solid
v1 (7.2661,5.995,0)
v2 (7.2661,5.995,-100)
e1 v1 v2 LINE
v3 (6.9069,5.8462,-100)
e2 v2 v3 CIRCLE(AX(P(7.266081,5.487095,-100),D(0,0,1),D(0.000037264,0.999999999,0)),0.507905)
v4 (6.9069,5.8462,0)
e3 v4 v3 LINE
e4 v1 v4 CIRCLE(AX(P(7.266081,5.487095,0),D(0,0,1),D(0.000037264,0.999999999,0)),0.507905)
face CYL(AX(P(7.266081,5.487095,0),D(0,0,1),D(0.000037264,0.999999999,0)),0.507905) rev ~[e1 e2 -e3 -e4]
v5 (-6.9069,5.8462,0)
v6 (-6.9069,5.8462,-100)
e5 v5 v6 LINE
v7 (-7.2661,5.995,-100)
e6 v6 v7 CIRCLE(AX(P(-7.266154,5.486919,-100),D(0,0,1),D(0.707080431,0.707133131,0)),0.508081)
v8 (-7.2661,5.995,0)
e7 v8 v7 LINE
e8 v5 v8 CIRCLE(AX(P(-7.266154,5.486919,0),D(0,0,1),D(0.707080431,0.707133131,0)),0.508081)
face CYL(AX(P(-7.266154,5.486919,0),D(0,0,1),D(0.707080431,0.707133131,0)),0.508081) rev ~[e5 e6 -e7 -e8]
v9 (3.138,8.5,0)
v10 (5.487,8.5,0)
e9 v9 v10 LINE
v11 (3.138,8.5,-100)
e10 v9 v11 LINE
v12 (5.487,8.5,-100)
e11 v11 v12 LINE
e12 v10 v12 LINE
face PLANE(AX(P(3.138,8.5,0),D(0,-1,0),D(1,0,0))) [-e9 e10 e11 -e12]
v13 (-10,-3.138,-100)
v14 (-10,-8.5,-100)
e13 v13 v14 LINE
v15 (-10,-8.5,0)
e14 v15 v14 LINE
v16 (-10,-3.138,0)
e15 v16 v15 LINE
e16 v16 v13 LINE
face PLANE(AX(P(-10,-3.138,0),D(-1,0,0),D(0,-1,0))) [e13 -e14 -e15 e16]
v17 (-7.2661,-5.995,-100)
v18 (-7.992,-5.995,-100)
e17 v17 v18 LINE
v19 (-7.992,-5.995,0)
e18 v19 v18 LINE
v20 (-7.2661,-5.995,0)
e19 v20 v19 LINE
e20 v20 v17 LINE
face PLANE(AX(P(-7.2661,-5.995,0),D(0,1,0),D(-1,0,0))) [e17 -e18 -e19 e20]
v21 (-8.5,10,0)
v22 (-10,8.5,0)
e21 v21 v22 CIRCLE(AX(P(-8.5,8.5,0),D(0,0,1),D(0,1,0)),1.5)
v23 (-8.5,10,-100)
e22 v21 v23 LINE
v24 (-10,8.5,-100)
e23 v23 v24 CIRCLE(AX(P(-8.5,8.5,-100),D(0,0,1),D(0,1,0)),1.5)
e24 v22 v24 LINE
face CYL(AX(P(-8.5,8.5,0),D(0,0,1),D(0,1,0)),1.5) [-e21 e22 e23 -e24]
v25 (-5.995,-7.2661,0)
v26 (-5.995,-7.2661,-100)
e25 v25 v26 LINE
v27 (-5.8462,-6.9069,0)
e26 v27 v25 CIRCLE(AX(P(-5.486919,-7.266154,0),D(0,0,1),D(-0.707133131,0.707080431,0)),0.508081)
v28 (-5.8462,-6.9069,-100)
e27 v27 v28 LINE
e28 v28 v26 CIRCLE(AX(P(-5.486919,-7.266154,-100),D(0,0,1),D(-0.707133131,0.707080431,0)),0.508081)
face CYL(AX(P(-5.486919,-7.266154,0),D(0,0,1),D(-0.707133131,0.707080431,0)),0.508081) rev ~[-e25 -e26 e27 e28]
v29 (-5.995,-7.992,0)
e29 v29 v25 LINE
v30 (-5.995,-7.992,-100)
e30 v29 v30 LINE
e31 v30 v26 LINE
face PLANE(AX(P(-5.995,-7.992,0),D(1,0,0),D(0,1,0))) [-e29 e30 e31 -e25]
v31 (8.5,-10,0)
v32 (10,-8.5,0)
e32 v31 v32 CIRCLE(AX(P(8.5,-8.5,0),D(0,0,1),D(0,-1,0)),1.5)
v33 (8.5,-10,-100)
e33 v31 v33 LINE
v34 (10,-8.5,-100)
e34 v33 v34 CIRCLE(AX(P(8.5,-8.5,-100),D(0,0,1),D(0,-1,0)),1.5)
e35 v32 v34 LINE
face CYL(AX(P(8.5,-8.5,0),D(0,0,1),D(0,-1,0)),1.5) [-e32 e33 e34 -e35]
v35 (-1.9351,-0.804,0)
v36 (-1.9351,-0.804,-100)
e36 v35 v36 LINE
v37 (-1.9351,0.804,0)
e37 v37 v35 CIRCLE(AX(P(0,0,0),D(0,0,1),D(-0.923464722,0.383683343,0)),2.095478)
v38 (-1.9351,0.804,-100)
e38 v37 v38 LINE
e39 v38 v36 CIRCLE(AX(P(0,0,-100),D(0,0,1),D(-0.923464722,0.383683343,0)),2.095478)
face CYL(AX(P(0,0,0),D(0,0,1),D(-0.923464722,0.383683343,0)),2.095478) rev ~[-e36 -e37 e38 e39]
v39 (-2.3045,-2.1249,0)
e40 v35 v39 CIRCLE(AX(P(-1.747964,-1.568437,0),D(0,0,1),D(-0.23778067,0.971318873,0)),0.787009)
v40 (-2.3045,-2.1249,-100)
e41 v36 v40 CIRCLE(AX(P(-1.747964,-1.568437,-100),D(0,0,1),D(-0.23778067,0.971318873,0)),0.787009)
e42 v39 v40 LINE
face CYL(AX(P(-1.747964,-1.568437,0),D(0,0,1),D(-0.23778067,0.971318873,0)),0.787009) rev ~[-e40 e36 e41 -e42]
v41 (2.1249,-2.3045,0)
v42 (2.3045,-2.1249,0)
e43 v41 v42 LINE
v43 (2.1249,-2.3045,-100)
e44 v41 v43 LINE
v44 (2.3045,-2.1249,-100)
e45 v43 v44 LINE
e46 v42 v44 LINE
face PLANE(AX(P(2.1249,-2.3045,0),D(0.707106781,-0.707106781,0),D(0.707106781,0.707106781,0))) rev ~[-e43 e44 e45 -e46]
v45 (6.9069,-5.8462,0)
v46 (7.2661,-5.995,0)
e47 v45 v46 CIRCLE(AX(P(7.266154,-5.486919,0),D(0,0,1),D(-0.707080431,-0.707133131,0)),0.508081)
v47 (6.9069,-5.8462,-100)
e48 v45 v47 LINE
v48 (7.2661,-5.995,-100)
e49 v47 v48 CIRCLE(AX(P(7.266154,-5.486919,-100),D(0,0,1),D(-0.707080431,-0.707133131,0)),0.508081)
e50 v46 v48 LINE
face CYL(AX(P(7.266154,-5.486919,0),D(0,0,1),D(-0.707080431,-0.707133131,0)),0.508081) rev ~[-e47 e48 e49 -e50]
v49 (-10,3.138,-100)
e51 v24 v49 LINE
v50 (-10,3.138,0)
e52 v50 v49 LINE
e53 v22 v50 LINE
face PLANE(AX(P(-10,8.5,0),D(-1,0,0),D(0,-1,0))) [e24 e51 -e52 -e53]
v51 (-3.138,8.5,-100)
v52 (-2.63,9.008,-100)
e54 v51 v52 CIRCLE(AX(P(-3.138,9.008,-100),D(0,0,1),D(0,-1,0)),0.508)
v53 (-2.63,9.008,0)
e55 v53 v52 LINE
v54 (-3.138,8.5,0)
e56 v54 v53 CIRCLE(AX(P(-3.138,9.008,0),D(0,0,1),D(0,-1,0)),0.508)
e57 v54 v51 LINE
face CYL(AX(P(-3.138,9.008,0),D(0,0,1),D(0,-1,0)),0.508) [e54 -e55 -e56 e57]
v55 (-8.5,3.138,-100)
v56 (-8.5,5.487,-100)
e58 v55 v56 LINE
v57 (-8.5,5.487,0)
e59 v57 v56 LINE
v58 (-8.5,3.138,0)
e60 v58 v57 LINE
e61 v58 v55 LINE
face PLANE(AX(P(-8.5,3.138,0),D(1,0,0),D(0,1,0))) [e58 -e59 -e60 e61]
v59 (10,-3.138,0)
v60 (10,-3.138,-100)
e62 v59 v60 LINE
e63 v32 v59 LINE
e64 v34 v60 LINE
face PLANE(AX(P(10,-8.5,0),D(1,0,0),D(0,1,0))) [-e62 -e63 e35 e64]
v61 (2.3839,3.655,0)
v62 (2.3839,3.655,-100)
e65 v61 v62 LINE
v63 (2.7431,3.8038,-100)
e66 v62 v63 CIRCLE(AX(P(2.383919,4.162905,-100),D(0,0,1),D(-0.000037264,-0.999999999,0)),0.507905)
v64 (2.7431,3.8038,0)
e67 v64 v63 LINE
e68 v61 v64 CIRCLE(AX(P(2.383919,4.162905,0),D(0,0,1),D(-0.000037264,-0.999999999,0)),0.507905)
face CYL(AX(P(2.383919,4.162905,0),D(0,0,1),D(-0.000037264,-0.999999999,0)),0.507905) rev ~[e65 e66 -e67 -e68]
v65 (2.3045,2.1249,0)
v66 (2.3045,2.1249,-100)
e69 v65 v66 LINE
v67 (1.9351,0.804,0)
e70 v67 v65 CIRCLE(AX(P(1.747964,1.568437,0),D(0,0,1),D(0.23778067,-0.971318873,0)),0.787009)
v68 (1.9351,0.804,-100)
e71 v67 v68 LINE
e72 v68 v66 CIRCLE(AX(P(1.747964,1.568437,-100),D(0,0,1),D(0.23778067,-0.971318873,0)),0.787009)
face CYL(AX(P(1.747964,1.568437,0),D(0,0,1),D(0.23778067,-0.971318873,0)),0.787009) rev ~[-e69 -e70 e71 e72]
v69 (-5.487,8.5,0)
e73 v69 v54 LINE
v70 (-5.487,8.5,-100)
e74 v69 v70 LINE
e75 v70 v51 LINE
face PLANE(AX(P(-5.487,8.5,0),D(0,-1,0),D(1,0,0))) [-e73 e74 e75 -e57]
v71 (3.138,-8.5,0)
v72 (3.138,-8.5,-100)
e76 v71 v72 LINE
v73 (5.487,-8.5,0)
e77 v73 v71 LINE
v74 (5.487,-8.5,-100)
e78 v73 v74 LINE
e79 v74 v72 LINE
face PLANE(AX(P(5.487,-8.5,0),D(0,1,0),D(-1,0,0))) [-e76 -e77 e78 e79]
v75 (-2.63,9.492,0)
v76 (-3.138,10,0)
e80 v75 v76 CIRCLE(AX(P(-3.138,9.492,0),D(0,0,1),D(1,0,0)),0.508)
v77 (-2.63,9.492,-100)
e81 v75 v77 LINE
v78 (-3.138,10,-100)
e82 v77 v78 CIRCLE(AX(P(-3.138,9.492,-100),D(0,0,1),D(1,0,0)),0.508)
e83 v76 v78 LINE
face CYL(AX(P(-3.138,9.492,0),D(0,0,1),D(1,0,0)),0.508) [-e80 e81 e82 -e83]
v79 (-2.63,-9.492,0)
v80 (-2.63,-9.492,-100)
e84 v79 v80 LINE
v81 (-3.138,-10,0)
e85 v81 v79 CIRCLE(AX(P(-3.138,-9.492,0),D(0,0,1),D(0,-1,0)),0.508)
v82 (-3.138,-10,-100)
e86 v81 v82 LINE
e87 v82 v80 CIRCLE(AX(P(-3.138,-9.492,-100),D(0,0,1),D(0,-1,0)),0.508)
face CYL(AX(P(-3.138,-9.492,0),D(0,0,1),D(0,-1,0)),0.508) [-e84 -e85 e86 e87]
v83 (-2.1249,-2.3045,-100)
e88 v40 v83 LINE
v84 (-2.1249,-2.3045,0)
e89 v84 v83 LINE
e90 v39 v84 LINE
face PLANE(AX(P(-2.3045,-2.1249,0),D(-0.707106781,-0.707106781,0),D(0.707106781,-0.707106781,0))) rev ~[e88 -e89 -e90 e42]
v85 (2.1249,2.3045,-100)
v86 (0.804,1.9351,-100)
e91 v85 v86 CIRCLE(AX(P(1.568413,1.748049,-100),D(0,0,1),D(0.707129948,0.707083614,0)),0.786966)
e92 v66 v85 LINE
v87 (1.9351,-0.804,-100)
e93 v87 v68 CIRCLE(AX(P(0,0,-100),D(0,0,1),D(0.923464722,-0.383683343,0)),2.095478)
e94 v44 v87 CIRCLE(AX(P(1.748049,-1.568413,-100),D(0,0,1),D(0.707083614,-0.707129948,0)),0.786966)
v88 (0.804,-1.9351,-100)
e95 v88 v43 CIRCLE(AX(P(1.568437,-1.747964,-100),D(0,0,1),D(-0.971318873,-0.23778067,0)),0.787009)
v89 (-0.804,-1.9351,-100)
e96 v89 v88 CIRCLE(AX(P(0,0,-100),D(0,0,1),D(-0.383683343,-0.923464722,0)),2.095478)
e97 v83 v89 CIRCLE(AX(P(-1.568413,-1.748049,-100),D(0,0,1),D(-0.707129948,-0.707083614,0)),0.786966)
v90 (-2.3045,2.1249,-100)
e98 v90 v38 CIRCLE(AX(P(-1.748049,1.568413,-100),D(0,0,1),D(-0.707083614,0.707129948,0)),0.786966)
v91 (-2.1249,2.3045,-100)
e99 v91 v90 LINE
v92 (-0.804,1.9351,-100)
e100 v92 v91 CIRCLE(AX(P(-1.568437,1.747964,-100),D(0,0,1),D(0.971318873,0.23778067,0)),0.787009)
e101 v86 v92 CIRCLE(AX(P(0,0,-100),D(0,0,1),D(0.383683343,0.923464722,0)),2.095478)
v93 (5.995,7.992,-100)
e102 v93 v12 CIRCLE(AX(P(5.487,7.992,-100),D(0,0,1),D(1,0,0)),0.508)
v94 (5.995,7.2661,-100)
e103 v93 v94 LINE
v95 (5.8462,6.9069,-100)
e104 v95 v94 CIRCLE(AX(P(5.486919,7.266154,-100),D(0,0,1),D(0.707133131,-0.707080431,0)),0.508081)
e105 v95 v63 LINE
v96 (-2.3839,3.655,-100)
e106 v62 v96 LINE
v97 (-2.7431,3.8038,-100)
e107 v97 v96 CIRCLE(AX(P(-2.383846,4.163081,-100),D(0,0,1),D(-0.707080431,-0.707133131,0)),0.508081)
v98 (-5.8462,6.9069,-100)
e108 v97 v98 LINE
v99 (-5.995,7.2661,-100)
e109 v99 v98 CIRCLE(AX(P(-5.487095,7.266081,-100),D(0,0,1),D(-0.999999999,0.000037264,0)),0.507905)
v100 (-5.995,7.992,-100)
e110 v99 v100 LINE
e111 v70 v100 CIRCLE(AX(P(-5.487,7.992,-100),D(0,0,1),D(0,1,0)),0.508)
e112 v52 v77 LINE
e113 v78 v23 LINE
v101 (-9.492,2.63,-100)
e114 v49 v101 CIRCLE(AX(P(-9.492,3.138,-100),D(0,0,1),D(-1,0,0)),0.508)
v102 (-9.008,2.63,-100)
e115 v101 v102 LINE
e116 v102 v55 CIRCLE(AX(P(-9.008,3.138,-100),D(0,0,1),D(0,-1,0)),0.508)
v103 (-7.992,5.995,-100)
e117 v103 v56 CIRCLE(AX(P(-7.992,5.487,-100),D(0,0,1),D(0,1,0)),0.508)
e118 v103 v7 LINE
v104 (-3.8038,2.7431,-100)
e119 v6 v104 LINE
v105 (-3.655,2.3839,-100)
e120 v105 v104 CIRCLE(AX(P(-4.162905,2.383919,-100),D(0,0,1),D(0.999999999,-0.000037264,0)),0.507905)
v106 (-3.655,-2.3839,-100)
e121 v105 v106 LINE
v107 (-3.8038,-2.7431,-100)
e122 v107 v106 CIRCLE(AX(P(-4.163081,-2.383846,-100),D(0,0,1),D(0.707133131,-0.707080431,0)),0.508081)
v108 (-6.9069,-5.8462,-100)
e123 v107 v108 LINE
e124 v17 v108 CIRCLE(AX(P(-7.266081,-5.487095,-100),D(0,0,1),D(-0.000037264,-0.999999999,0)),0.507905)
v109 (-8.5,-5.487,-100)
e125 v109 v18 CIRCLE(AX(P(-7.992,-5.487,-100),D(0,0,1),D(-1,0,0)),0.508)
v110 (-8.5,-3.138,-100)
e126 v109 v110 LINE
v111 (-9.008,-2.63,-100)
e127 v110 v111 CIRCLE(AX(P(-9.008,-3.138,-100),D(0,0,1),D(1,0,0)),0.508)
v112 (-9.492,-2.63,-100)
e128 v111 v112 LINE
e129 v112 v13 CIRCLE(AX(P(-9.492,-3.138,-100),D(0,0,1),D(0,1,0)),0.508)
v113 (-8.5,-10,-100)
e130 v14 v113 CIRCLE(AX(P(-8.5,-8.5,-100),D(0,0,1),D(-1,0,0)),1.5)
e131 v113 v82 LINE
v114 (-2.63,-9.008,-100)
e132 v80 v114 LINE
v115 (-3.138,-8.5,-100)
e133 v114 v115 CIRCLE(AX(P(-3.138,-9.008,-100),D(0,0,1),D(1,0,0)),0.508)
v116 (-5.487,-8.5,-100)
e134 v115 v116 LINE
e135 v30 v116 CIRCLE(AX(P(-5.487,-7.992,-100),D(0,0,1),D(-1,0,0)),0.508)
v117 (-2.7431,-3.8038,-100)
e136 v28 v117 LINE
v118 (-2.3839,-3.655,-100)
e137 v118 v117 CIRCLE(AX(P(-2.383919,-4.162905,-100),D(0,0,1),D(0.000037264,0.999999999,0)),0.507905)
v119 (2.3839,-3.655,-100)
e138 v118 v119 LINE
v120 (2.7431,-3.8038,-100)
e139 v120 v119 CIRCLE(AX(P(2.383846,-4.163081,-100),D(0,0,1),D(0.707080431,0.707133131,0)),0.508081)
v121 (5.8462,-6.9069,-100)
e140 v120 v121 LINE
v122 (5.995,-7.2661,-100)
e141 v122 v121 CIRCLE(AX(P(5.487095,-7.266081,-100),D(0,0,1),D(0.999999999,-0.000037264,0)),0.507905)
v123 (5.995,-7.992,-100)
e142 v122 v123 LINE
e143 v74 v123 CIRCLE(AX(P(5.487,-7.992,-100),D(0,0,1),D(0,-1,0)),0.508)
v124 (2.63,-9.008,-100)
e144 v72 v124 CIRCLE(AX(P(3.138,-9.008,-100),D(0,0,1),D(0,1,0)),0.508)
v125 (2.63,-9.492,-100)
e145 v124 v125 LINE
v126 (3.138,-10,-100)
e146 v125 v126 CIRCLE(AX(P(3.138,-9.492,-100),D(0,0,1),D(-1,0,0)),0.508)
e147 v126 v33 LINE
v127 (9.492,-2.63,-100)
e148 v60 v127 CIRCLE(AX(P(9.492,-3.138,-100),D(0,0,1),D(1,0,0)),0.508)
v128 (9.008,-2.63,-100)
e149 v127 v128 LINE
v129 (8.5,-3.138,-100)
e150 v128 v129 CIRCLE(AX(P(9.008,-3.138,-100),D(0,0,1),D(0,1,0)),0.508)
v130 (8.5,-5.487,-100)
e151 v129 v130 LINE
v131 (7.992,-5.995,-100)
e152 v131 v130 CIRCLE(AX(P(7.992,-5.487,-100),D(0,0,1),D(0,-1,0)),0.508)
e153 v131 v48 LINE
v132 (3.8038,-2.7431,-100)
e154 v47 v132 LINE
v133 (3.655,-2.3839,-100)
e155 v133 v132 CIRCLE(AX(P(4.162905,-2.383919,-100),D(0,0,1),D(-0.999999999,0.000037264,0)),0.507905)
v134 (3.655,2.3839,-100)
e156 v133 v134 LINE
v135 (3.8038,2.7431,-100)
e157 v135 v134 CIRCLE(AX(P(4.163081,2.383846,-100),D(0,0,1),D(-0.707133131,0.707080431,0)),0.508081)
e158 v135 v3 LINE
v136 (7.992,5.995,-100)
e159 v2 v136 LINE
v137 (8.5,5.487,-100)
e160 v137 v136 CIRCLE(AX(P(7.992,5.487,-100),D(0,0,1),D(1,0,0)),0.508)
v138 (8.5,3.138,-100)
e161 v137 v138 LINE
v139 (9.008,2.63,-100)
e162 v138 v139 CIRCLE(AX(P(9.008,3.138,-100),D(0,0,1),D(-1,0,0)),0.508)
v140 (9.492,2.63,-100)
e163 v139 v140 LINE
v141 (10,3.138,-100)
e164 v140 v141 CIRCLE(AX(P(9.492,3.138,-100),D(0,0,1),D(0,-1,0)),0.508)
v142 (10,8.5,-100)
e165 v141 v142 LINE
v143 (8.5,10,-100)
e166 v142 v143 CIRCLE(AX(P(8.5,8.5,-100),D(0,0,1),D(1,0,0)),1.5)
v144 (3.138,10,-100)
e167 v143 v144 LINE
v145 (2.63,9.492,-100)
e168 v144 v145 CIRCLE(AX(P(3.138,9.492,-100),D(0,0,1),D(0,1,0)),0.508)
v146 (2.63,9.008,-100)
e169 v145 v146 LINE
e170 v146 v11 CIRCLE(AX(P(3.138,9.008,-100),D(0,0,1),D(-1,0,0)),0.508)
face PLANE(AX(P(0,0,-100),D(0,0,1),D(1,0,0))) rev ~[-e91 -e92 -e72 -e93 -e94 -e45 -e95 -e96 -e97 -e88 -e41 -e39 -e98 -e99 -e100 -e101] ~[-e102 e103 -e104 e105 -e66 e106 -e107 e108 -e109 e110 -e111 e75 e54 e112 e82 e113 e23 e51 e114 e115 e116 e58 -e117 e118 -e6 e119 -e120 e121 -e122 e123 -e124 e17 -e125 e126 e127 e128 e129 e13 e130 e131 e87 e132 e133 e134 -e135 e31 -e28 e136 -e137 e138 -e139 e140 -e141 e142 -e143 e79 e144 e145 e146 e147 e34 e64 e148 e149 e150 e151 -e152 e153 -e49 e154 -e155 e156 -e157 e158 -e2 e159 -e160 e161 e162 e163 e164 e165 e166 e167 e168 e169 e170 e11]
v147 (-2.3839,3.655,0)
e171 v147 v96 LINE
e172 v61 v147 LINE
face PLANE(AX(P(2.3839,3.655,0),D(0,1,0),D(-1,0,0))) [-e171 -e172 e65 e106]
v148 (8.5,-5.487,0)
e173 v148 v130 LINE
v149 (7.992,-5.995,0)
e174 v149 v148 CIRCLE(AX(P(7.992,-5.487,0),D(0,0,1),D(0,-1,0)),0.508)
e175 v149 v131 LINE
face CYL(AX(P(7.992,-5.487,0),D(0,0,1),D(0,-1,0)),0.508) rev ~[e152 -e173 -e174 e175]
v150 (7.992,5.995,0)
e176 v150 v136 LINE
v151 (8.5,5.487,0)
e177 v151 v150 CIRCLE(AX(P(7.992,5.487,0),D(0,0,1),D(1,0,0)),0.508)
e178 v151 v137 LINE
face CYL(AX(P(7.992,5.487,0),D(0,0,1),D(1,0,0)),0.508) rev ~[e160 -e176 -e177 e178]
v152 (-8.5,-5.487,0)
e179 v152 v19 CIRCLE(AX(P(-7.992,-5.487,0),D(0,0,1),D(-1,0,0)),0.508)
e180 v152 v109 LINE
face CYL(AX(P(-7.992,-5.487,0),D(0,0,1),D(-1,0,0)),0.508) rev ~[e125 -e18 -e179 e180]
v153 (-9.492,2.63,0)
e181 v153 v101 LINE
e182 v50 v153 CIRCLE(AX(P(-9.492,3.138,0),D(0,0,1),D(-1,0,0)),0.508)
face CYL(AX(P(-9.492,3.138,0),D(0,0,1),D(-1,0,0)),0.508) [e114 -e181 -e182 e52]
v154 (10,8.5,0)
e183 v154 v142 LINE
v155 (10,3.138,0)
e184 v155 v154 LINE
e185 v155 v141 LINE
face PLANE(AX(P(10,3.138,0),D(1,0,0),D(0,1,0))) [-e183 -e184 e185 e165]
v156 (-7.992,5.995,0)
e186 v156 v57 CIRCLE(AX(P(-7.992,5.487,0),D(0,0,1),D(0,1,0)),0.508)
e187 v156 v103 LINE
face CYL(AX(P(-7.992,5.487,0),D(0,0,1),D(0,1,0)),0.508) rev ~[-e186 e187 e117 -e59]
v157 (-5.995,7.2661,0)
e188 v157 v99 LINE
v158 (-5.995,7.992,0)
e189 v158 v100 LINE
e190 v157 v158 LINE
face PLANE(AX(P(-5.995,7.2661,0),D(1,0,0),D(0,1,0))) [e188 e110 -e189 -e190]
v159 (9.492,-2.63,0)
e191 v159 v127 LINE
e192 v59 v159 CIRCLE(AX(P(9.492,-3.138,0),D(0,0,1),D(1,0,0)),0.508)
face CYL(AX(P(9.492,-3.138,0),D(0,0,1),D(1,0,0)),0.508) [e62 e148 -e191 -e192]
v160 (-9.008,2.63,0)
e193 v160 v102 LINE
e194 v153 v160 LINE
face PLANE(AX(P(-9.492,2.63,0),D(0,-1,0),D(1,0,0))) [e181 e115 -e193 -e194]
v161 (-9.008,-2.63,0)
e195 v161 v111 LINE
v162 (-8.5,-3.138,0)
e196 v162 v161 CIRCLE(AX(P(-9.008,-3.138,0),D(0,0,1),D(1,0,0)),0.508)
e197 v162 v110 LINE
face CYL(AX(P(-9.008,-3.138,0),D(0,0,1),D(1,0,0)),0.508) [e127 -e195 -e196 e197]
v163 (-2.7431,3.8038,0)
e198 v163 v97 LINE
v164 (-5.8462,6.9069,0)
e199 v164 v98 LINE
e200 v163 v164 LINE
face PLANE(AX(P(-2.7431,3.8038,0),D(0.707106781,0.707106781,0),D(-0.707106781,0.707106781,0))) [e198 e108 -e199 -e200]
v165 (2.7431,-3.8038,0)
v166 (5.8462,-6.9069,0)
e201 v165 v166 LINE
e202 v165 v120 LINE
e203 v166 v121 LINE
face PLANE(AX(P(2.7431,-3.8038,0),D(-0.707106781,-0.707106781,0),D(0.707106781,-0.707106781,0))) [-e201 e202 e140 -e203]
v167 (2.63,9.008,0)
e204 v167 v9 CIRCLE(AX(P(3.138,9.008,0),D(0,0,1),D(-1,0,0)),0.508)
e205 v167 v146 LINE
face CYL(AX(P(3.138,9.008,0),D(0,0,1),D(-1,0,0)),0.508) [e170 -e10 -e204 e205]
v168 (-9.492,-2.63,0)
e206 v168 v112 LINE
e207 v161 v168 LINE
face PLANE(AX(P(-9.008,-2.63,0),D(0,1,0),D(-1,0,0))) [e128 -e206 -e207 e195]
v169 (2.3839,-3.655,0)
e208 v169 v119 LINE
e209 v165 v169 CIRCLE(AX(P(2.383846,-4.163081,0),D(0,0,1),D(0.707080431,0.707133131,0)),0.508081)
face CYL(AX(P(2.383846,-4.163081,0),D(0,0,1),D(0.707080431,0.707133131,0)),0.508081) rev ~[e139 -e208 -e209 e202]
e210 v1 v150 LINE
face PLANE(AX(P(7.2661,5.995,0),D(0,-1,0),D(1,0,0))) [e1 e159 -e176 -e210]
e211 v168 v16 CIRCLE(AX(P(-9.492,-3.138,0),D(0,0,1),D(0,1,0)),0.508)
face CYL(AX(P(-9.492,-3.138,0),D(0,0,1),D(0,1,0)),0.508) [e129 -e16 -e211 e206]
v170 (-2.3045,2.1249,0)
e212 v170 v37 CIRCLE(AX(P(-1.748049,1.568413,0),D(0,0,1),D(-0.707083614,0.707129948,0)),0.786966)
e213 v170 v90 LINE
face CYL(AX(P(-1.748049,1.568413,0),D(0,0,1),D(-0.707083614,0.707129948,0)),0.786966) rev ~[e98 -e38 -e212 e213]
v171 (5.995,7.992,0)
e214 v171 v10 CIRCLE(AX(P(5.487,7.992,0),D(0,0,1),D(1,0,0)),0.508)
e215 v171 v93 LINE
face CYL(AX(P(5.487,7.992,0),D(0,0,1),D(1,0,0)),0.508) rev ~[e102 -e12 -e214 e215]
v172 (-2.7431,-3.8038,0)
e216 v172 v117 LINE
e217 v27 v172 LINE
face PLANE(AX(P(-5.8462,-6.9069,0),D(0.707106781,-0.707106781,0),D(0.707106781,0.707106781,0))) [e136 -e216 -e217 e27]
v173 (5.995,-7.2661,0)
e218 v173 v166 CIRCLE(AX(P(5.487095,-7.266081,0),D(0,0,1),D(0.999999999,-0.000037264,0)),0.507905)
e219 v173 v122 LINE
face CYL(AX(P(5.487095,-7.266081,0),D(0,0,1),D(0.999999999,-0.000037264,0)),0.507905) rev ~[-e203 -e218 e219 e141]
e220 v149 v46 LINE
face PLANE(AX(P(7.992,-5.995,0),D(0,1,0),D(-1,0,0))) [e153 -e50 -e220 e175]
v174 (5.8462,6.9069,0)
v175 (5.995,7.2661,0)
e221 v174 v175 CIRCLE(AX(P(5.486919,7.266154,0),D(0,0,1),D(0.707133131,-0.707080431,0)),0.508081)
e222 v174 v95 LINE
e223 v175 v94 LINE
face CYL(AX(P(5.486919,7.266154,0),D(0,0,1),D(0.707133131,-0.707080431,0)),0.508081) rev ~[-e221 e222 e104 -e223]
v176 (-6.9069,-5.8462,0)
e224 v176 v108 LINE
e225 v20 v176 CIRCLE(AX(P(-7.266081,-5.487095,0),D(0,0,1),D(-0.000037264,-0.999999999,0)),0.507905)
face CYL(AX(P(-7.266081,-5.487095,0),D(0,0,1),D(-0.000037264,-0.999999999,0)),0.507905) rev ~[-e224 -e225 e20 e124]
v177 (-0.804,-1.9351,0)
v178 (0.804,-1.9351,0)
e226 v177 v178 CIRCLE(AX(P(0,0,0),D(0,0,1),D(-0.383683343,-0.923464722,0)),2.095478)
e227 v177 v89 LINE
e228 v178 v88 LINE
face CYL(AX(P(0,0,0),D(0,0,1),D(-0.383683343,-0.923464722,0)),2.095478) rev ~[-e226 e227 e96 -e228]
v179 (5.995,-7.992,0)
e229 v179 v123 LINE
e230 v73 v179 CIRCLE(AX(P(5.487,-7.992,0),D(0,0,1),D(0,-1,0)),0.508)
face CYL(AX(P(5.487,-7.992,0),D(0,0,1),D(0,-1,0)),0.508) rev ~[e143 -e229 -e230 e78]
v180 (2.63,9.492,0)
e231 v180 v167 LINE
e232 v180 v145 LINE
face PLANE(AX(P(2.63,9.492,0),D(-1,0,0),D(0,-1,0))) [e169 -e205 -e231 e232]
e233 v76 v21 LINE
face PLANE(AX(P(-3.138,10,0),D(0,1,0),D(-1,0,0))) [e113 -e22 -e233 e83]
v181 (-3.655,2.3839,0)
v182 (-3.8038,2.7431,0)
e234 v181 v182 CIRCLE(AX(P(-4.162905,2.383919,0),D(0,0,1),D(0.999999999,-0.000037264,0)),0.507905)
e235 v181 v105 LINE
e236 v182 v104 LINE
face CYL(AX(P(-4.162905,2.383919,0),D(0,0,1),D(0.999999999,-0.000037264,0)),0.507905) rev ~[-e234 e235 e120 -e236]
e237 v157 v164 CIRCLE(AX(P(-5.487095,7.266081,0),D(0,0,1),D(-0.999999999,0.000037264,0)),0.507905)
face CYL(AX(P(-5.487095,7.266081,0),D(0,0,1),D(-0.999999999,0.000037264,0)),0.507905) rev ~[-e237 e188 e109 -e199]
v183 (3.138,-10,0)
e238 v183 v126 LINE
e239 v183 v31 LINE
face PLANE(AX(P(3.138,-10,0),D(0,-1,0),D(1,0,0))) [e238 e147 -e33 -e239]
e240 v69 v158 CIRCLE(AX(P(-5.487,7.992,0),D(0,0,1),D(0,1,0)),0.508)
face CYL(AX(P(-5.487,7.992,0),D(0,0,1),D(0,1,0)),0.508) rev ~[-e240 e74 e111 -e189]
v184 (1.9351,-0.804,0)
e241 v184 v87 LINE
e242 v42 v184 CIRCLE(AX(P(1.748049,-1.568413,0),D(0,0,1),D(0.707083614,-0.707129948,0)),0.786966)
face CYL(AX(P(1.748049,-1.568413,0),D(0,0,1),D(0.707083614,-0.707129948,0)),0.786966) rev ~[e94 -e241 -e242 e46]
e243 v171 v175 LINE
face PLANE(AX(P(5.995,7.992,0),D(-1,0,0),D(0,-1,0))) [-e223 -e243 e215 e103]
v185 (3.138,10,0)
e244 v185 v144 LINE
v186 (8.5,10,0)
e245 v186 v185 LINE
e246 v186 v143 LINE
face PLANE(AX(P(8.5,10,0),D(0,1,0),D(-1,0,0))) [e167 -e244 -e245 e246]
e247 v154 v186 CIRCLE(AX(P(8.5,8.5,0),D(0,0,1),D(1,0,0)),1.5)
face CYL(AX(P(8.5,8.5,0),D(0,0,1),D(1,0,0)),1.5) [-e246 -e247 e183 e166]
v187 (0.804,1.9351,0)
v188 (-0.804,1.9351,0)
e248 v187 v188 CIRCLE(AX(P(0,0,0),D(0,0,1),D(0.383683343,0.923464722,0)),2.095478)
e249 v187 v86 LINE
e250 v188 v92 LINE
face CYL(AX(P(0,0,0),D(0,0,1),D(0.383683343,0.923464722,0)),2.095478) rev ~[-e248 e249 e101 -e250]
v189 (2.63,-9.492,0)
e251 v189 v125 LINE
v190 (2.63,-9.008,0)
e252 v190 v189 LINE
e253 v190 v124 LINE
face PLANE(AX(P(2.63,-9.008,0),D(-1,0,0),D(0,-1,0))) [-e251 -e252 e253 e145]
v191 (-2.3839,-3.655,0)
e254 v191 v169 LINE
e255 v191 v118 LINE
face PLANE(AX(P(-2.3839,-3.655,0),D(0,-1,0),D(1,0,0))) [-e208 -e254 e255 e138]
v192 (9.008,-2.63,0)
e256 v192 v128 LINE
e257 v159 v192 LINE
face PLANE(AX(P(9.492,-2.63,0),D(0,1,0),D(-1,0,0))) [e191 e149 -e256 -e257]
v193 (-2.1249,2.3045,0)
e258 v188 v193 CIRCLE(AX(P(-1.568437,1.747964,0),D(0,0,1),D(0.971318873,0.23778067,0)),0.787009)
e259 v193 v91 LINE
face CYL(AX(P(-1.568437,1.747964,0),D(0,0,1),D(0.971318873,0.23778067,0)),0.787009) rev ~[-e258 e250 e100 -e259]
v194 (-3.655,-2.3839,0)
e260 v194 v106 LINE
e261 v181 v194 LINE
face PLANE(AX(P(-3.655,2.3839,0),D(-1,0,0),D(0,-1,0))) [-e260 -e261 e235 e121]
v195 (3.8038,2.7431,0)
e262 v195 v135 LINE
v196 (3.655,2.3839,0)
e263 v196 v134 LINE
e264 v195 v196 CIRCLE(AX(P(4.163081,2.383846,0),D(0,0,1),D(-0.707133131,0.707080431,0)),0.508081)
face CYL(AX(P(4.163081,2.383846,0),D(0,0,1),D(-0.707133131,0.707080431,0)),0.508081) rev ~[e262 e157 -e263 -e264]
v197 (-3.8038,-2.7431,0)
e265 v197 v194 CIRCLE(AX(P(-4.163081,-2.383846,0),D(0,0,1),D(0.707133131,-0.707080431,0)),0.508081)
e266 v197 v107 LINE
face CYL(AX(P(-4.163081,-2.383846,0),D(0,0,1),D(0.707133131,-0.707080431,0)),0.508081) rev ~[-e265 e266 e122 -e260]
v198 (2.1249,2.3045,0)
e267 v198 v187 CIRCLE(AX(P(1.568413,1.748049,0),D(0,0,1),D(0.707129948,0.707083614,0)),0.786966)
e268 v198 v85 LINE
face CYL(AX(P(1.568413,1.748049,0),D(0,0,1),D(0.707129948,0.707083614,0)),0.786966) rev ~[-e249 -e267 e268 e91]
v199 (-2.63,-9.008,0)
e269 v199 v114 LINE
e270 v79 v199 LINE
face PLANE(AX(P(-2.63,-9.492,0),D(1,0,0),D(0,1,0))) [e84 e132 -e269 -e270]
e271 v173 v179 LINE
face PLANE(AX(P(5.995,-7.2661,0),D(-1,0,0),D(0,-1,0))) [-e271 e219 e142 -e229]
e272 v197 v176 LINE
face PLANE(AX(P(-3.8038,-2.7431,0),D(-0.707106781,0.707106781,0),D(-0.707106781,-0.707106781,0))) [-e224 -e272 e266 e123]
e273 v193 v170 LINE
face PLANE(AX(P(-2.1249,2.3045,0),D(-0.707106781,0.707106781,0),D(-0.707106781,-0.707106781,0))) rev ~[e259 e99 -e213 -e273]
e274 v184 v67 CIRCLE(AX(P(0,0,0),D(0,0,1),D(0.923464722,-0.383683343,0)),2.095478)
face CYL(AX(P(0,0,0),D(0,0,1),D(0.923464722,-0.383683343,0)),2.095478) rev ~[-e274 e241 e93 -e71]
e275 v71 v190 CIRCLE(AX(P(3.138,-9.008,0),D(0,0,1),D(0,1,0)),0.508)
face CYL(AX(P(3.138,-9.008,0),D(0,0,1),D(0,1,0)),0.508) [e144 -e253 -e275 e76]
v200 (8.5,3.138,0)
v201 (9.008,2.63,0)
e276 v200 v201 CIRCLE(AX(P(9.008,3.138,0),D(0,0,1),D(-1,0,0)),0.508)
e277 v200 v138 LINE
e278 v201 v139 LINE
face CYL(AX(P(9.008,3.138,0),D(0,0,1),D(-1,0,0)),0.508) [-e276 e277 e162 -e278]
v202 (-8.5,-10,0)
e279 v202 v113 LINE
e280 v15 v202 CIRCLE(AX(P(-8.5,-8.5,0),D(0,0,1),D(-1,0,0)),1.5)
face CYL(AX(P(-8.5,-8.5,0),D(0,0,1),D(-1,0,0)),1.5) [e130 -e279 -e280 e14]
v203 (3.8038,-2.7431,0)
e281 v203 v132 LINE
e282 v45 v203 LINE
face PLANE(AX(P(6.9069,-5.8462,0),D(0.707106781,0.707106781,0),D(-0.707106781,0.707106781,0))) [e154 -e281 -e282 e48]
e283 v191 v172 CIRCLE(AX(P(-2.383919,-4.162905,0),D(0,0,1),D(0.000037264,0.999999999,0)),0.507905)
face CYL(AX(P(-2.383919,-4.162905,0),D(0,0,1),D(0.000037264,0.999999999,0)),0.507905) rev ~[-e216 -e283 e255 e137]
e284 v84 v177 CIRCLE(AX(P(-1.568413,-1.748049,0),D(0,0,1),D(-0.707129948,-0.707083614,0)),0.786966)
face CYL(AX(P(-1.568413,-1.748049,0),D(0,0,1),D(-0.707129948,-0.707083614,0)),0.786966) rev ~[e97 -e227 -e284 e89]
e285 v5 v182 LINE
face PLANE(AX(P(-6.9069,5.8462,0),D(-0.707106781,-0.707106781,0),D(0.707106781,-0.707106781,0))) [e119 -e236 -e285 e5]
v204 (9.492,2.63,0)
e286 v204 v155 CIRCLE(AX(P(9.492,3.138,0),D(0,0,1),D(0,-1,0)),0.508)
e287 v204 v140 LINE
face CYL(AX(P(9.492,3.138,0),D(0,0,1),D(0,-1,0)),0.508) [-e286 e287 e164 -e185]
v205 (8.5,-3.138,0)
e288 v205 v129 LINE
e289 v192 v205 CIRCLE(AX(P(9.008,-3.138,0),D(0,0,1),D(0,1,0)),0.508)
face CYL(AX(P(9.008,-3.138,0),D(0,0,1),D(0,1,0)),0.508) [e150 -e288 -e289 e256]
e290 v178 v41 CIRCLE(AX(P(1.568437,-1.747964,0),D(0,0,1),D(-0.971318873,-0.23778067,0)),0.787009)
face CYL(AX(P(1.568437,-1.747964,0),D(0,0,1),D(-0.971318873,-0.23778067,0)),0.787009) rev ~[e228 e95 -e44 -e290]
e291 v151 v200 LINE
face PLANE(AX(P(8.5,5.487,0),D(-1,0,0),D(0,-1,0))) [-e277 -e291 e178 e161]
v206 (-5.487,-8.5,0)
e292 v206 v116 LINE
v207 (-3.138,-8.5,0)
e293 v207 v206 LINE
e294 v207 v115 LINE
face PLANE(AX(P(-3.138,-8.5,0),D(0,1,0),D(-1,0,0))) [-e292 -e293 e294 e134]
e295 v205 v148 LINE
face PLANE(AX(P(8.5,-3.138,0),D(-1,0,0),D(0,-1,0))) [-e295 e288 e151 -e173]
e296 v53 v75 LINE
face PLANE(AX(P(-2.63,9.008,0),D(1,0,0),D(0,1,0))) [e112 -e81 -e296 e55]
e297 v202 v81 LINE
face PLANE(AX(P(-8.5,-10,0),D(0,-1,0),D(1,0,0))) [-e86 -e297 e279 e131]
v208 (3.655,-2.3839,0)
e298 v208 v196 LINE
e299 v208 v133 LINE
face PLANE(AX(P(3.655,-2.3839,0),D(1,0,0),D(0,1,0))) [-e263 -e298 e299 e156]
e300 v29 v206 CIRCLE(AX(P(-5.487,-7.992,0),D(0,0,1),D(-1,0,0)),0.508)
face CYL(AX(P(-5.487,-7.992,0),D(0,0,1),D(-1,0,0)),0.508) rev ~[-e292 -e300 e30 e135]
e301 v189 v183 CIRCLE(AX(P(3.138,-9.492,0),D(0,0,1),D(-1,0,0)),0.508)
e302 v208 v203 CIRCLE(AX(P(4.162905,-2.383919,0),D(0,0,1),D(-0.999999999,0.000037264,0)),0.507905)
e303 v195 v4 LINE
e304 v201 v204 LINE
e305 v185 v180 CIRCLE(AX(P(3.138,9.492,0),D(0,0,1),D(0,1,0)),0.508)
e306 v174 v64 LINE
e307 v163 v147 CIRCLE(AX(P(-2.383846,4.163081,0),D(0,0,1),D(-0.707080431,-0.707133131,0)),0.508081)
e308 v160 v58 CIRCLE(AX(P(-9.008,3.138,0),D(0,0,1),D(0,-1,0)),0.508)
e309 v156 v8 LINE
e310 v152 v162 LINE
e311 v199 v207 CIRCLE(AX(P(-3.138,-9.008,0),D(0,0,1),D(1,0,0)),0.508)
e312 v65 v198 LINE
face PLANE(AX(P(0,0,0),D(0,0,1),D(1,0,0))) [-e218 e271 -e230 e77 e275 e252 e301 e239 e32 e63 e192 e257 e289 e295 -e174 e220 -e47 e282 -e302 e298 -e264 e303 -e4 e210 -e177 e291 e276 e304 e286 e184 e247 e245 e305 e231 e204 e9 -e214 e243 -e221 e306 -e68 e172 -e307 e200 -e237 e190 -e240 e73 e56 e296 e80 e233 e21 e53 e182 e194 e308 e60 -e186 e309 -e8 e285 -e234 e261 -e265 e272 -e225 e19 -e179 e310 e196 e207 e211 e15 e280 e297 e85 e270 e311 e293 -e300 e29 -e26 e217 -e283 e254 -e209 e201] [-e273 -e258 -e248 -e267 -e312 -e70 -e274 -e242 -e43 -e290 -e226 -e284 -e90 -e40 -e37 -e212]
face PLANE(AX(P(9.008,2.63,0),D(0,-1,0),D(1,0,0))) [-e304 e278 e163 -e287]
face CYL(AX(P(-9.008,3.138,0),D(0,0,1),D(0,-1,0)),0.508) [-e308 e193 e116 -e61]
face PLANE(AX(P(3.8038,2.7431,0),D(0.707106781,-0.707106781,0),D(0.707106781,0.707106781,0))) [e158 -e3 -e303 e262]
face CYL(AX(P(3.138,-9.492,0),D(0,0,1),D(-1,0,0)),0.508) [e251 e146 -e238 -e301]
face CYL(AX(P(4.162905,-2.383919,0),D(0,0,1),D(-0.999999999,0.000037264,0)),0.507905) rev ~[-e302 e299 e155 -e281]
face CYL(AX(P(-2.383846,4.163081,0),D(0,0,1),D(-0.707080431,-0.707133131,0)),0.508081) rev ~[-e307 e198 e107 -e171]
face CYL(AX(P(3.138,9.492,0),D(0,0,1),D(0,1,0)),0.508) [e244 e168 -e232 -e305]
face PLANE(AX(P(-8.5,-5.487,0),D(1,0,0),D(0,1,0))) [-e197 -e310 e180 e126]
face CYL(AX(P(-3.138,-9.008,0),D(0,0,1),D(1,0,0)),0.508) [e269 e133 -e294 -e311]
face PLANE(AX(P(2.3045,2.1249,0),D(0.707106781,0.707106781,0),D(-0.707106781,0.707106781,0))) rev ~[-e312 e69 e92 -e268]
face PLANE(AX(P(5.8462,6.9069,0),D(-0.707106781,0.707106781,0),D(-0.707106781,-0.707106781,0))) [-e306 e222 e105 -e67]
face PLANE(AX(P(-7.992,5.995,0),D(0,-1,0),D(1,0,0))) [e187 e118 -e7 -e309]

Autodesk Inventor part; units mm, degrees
ref_plane "YZ Plane" through (0, 0, 0) normal (1, 0, 0) x (0, 1, 0)
ref_plane "XZ Plane" through (0, 0, 0) normal (0, 1, 0) x (-1, 0, 0)
ref_plane "XY Plane" through (0, 0, 0) normal (0, 0, 1) x (1, 0, 0)
sketch "Sketch1" plane through (0, 0, 0) normal (0, 0, 1) x (1, 0, 0)
  arc A0 (-2.1249, -2.3045) -> (-0.804, -1.9351) centre (-1.5684, -1.748) ccw
  line L0 (-2.3045, -2.1249) -> (-2.1249, -2.3045)
  arc A1 (-1.9351, -0.804) -> (-2.3045, -2.1249) centre (-1.748, -1.5684) ccw
  arc A2 (-1.9351, 0.804) -> (-1.9351, -0.804) centre (0, 0) ccw
  arc A3 (-2.3045, 2.1249) -> (-1.9351, 0.804) centre (-1.748, 1.5684) ccw
  line L1 (-2.1249, 2.3045) -> (-2.3045, 2.1249)
  arc A4 (-0.804, 1.9351) -> (-2.1249, 2.3045) centre (-1.5684, 1.748) ccw
  arc A5 (0.804, 1.9351) -> (-0.804, 1.9351) centre (0, 0) ccw
  arc A6 (2.1249, 2.3045) -> (0.804, 1.9351) centre (1.5684, 1.748) ccw
  line L2 (2.3045, 2.1249) -> (2.1249, 2.3045)
  arc A7 (1.9351, 0.804) -> (2.3045, 2.1249) centre (1.748, 1.5684) ccw
  arc A8 (1.9351, -0.804) -> (1.9351, 0.804) centre (0, 0) ccw
  arc A9 (2.3045, -2.1249) -> (1.9351, -0.804) centre (1.748, -1.5684) ccw
  line L3 (2.1249, -2.3045) -> (2.3045, -2.1249)
  arc A10 (0.804, -1.9351) -> (2.1249, -2.3045) centre (1.5684, -1.748) ccw
  arc A11 (-0.804, -1.9351) -> (0.804, -1.9351) centre (0, 0) ccw
  arc A12 (9.492, 2.63) -> (10, 3.138) centre (9.492, 3.138) ccw
  line L4 (10, 3.138) -> (10, 8.5)
  arc A13 (10, 8.5) -> (8.5, 10) centre (8.5, 8.5) ccw
  line L5 (8.5, 10) -> (3.138, 10)
  arc A14 (3.138, 10) -> (2.63, 9.492) centre (3.138, 9.492) ccw
  line L6 (2.63, 9.492) -> (2.63, 9.008)
  arc A15 (2.63, 9.008) -> (3.138, 8.5) centre (3.138, 9.008) ccw
  line L7 (3.138, 8.5) -> (5.487, 8.5)
  arc A16 (5.995, 7.992) -> (5.487, 8.5) centre (5.487, 7.992) ccw
  line L8 (5.995, 7.992) -> (5.995, 7.2661)
  arc A17 (5.8462, 6.9069) -> (5.995, 7.2661) centre (5.487, 7.2661) ccw
  line L9 (5.8462, 6.9069) -> (2.7431, 3.8038)
  arc A18 (2.3839, 3.655) -> (2.7431, 3.8038) centre (2.3839, 4.163) ccw
  line L10 (2.3839, 3.655) -> (-2.3839, 3.655)
  arc A19 (-2.7431, 3.8038) -> (-2.3839, 3.655) centre (-2.3839, 4.163) ccw
  line L11 (-2.7431, 3.8038) -> (-5.8462, 6.9069)
  arc A20 (-5.995, 7.2661) -> (-5.8462, 6.9069) centre (-5.487, 7.2661) ccw
  line L12 (-5.995, 7.2661) -> (-5.995, 7.992)
  arc A21 (-5.487, 8.5) -> (-5.995, 7.992) centre (-5.487, 7.992) ccw
  line L13 (-5.487, 8.5) -> (-3.138, 8.5)
  arc A22 (-3.138, 8.5) -> (-2.63, 9.008) centre (-3.138, 9.008) ccw
  line L14 (-2.63, 9.008) -> (-2.63, 9.492)
  arc A23 (-2.63, 9.492) -> (-3.138, 10) centre (-3.138, 9.492) ccw
  line L15 (-3.138, 10) -> (-8.5, 10)
  arc A24 (-8.5, 10) -> (-10, 8.5) centre (-8.5, 8.5) ccw
  line L16 (-10, 8.5) -> (-10, 3.138)
  arc A25 (-10, 3.138) -> (-9.492, 2.63) centre (-9.492, 3.138) ccw
  line L17 (-9.492, 2.63) -> (-9.008, 2.63)
  arc A26 (-9.008, 2.63) -> (-8.5, 3.138) centre (-9.008, 3.138) ccw
  line L18 (-8.5, 3.138) -> (-8.5, 5.487)
  arc A27 (-7.992, 5.995) -> (-8.5, 5.487) centre (-7.992, 5.487) ccw
  line L19 (-7.992, 5.995) -> (-7.2661, 5.995)
  arc A28 (-6.9069, 5.8462) -> (-7.2661, 5.995) centre (-7.2661, 5.487) ccw
  line L20 (-6.9069, 5.8462) -> (-3.8038, 2.7431)
  arc A29 (-3.655, 2.3839) -> (-3.8038, 2.7431) centre (-4.163, 2.3839) ccw
  line L21 (-3.655, 2.3839) -> (-3.655, -2.3839)
  arc A30 (-3.8038, -2.7431) -> (-3.655, -2.3839) centre (-4.163, -2.3839) ccw
  line L22 (-3.8038, -2.7431) -> (-6.9069, -5.8462)
  arc A31 (-7.2661, -5.995) -> (-6.9069, -5.8462) centre (-7.2661, -5.487) ccw
  line L23 (-7.2661, -5.995) -> (-7.992, -5.995)
  arc A32 (-8.5, -5.487) -> (-7.992, -5.995) centre (-7.992, -5.487) ccw
  line L24 (-8.5, -5.487) -> (-8.5, -3.138)
  arc A33 (-8.5, -3.138) -> (-9.008, -2.63) centre (-9.008, -3.138) ccw
  line L25 (-9.008, -2.63) -> (-9.492, -2.63)
  arc A34 (-9.492, -2.63) -> (-10, -3.138) centre (-9.492, -3.138) ccw
  line L26 (-10, -3.138) -> (-10, -8.5)
  arc A35 (-10, -8.5) -> (-8.5, -10) centre (-8.5, -8.5) ccw
  line L27 (-8.5, -10) -> (-3.138, -10)
  arc A36 (-3.138, -10) -> (-2.63, -9.492) centre (-3.138, -9.492) ccw
  line L28 (-2.63, -9.492) -> (-2.63, -9.008)
  arc A37 (-2.63, -9.008) -> (-3.138, -8.5) centre (-3.138, -9.008) ccw
  line L29 (-3.138, -8.5) -> (-5.487, -8.5)
  arc A38 (-5.995, -7.992) -> (-5.487, -8.5) centre (-5.487, -7.992) ccw
  line L30 (-5.995, -7.992) -> (-5.995, -7.2661)
  arc A39 (-5.8462, -6.9069) -> (-5.995, -7.2661) centre (-5.487, -7.2661) ccw
  line L31 (-5.8462, -6.9069) -> (-2.7431, -3.8038)
  arc A40 (-2.3839, -3.655) -> (-2.7431, -3.8038) centre (-2.3839, -4.163) ccw
  line L32 (-2.3839, -3.655) -> (2.3839, -3.655)
  arc A41 (2.7431, -3.8038) -> (2.3839, -3.655) centre (2.3839, -4.163) ccw
  line L33 (2.7431, -3.8038) -> (5.8462, -6.9069)
  arc A42 (5.995, -7.2661) -> (5.8462, -6.9069) centre (5.487, -7.2661) ccw
  line L34 (5.995, -7.2661) -> (5.995, -7.992)
  arc A43 (5.487, -8.5) -> (5.995, -7.992) centre (5.487, -7.992) ccw
  line L35 (5.487, -8.5) -> (3.138, -8.5)
  arc A44 (3.138, -8.5) -> (2.63, -9.008) centre (3.138, -9.008) ccw
  line L36 (2.63, -9.008) -> (2.63, -9.492)
  arc A45 (2.63, -9.492) -> (3.138, -10) centre (3.138, -9.492) ccw
  line L37 (3.138, -10) -> (8.5, -10)
  arc A46 (8.5, -10) -> (10, -8.5) centre (8.5, -8.5) ccw
  line L38 (10, -8.5) -> (10, -3.138)
  arc A47 (10, -3.138) -> (9.492, -2.63) centre (9.492, -3.138) ccw
  line L39 (9.492, -2.63) -> (9.008, -2.63)
  arc A48 (9.008, -2.63) -> (8.5, -3.138) centre (9.008, -3.138) ccw
  line L40 (8.5, -3.138) -> (8.5, -5.487)
  arc A49 (7.992, -5.995) -> (8.5, -5.487) centre (7.992, -5.487) ccw
  line L41 (7.992, -5.995) -> (7.2661, -5.995)
  arc A50 (6.9069, -5.8462) -> (7.2661, -5.995) centre (7.2661, -5.487) ccw
  line L42 (6.9069, -5.8462) -> (3.8038, -2.7431)
  arc A51 (3.655, -2.3839) -> (3.8038, -2.7431) centre (4.163, -2.3839) ccw
  line L43 (3.655, -2.3839) -> (3.655, 2.3839)
  arc A52 (3.8038, 2.7431) -> (3.655, 2.3839) centre (4.163, 2.3839) ccw
  line L44 (3.8038, 2.7431) -> (6.9069, 5.8462)
  arc A53 (7.2661, 5.995) -> (6.9069, 5.8462) centre (7.2661, 5.487) ccw
  line L45 (7.2661, 5.995) -> (7.992, 5.995)
  arc A54 (8.5, 5.487) -> (7.992, 5.995) centre (7.992, 5.487) ccw
  line L46 (8.5, 5.487) -> (8.5, 3.138)
  arc A55 (8.5, 3.138) -> (9.008, 2.63) centre (9.008, 3.138) ccw
  line L47 (9.008, 2.63) -> (9.492, 2.63)
extrude "Extrusion1" add sketch "Sketch1" against normal blind 100
properties part number "20-2020-BLACK-FB"
